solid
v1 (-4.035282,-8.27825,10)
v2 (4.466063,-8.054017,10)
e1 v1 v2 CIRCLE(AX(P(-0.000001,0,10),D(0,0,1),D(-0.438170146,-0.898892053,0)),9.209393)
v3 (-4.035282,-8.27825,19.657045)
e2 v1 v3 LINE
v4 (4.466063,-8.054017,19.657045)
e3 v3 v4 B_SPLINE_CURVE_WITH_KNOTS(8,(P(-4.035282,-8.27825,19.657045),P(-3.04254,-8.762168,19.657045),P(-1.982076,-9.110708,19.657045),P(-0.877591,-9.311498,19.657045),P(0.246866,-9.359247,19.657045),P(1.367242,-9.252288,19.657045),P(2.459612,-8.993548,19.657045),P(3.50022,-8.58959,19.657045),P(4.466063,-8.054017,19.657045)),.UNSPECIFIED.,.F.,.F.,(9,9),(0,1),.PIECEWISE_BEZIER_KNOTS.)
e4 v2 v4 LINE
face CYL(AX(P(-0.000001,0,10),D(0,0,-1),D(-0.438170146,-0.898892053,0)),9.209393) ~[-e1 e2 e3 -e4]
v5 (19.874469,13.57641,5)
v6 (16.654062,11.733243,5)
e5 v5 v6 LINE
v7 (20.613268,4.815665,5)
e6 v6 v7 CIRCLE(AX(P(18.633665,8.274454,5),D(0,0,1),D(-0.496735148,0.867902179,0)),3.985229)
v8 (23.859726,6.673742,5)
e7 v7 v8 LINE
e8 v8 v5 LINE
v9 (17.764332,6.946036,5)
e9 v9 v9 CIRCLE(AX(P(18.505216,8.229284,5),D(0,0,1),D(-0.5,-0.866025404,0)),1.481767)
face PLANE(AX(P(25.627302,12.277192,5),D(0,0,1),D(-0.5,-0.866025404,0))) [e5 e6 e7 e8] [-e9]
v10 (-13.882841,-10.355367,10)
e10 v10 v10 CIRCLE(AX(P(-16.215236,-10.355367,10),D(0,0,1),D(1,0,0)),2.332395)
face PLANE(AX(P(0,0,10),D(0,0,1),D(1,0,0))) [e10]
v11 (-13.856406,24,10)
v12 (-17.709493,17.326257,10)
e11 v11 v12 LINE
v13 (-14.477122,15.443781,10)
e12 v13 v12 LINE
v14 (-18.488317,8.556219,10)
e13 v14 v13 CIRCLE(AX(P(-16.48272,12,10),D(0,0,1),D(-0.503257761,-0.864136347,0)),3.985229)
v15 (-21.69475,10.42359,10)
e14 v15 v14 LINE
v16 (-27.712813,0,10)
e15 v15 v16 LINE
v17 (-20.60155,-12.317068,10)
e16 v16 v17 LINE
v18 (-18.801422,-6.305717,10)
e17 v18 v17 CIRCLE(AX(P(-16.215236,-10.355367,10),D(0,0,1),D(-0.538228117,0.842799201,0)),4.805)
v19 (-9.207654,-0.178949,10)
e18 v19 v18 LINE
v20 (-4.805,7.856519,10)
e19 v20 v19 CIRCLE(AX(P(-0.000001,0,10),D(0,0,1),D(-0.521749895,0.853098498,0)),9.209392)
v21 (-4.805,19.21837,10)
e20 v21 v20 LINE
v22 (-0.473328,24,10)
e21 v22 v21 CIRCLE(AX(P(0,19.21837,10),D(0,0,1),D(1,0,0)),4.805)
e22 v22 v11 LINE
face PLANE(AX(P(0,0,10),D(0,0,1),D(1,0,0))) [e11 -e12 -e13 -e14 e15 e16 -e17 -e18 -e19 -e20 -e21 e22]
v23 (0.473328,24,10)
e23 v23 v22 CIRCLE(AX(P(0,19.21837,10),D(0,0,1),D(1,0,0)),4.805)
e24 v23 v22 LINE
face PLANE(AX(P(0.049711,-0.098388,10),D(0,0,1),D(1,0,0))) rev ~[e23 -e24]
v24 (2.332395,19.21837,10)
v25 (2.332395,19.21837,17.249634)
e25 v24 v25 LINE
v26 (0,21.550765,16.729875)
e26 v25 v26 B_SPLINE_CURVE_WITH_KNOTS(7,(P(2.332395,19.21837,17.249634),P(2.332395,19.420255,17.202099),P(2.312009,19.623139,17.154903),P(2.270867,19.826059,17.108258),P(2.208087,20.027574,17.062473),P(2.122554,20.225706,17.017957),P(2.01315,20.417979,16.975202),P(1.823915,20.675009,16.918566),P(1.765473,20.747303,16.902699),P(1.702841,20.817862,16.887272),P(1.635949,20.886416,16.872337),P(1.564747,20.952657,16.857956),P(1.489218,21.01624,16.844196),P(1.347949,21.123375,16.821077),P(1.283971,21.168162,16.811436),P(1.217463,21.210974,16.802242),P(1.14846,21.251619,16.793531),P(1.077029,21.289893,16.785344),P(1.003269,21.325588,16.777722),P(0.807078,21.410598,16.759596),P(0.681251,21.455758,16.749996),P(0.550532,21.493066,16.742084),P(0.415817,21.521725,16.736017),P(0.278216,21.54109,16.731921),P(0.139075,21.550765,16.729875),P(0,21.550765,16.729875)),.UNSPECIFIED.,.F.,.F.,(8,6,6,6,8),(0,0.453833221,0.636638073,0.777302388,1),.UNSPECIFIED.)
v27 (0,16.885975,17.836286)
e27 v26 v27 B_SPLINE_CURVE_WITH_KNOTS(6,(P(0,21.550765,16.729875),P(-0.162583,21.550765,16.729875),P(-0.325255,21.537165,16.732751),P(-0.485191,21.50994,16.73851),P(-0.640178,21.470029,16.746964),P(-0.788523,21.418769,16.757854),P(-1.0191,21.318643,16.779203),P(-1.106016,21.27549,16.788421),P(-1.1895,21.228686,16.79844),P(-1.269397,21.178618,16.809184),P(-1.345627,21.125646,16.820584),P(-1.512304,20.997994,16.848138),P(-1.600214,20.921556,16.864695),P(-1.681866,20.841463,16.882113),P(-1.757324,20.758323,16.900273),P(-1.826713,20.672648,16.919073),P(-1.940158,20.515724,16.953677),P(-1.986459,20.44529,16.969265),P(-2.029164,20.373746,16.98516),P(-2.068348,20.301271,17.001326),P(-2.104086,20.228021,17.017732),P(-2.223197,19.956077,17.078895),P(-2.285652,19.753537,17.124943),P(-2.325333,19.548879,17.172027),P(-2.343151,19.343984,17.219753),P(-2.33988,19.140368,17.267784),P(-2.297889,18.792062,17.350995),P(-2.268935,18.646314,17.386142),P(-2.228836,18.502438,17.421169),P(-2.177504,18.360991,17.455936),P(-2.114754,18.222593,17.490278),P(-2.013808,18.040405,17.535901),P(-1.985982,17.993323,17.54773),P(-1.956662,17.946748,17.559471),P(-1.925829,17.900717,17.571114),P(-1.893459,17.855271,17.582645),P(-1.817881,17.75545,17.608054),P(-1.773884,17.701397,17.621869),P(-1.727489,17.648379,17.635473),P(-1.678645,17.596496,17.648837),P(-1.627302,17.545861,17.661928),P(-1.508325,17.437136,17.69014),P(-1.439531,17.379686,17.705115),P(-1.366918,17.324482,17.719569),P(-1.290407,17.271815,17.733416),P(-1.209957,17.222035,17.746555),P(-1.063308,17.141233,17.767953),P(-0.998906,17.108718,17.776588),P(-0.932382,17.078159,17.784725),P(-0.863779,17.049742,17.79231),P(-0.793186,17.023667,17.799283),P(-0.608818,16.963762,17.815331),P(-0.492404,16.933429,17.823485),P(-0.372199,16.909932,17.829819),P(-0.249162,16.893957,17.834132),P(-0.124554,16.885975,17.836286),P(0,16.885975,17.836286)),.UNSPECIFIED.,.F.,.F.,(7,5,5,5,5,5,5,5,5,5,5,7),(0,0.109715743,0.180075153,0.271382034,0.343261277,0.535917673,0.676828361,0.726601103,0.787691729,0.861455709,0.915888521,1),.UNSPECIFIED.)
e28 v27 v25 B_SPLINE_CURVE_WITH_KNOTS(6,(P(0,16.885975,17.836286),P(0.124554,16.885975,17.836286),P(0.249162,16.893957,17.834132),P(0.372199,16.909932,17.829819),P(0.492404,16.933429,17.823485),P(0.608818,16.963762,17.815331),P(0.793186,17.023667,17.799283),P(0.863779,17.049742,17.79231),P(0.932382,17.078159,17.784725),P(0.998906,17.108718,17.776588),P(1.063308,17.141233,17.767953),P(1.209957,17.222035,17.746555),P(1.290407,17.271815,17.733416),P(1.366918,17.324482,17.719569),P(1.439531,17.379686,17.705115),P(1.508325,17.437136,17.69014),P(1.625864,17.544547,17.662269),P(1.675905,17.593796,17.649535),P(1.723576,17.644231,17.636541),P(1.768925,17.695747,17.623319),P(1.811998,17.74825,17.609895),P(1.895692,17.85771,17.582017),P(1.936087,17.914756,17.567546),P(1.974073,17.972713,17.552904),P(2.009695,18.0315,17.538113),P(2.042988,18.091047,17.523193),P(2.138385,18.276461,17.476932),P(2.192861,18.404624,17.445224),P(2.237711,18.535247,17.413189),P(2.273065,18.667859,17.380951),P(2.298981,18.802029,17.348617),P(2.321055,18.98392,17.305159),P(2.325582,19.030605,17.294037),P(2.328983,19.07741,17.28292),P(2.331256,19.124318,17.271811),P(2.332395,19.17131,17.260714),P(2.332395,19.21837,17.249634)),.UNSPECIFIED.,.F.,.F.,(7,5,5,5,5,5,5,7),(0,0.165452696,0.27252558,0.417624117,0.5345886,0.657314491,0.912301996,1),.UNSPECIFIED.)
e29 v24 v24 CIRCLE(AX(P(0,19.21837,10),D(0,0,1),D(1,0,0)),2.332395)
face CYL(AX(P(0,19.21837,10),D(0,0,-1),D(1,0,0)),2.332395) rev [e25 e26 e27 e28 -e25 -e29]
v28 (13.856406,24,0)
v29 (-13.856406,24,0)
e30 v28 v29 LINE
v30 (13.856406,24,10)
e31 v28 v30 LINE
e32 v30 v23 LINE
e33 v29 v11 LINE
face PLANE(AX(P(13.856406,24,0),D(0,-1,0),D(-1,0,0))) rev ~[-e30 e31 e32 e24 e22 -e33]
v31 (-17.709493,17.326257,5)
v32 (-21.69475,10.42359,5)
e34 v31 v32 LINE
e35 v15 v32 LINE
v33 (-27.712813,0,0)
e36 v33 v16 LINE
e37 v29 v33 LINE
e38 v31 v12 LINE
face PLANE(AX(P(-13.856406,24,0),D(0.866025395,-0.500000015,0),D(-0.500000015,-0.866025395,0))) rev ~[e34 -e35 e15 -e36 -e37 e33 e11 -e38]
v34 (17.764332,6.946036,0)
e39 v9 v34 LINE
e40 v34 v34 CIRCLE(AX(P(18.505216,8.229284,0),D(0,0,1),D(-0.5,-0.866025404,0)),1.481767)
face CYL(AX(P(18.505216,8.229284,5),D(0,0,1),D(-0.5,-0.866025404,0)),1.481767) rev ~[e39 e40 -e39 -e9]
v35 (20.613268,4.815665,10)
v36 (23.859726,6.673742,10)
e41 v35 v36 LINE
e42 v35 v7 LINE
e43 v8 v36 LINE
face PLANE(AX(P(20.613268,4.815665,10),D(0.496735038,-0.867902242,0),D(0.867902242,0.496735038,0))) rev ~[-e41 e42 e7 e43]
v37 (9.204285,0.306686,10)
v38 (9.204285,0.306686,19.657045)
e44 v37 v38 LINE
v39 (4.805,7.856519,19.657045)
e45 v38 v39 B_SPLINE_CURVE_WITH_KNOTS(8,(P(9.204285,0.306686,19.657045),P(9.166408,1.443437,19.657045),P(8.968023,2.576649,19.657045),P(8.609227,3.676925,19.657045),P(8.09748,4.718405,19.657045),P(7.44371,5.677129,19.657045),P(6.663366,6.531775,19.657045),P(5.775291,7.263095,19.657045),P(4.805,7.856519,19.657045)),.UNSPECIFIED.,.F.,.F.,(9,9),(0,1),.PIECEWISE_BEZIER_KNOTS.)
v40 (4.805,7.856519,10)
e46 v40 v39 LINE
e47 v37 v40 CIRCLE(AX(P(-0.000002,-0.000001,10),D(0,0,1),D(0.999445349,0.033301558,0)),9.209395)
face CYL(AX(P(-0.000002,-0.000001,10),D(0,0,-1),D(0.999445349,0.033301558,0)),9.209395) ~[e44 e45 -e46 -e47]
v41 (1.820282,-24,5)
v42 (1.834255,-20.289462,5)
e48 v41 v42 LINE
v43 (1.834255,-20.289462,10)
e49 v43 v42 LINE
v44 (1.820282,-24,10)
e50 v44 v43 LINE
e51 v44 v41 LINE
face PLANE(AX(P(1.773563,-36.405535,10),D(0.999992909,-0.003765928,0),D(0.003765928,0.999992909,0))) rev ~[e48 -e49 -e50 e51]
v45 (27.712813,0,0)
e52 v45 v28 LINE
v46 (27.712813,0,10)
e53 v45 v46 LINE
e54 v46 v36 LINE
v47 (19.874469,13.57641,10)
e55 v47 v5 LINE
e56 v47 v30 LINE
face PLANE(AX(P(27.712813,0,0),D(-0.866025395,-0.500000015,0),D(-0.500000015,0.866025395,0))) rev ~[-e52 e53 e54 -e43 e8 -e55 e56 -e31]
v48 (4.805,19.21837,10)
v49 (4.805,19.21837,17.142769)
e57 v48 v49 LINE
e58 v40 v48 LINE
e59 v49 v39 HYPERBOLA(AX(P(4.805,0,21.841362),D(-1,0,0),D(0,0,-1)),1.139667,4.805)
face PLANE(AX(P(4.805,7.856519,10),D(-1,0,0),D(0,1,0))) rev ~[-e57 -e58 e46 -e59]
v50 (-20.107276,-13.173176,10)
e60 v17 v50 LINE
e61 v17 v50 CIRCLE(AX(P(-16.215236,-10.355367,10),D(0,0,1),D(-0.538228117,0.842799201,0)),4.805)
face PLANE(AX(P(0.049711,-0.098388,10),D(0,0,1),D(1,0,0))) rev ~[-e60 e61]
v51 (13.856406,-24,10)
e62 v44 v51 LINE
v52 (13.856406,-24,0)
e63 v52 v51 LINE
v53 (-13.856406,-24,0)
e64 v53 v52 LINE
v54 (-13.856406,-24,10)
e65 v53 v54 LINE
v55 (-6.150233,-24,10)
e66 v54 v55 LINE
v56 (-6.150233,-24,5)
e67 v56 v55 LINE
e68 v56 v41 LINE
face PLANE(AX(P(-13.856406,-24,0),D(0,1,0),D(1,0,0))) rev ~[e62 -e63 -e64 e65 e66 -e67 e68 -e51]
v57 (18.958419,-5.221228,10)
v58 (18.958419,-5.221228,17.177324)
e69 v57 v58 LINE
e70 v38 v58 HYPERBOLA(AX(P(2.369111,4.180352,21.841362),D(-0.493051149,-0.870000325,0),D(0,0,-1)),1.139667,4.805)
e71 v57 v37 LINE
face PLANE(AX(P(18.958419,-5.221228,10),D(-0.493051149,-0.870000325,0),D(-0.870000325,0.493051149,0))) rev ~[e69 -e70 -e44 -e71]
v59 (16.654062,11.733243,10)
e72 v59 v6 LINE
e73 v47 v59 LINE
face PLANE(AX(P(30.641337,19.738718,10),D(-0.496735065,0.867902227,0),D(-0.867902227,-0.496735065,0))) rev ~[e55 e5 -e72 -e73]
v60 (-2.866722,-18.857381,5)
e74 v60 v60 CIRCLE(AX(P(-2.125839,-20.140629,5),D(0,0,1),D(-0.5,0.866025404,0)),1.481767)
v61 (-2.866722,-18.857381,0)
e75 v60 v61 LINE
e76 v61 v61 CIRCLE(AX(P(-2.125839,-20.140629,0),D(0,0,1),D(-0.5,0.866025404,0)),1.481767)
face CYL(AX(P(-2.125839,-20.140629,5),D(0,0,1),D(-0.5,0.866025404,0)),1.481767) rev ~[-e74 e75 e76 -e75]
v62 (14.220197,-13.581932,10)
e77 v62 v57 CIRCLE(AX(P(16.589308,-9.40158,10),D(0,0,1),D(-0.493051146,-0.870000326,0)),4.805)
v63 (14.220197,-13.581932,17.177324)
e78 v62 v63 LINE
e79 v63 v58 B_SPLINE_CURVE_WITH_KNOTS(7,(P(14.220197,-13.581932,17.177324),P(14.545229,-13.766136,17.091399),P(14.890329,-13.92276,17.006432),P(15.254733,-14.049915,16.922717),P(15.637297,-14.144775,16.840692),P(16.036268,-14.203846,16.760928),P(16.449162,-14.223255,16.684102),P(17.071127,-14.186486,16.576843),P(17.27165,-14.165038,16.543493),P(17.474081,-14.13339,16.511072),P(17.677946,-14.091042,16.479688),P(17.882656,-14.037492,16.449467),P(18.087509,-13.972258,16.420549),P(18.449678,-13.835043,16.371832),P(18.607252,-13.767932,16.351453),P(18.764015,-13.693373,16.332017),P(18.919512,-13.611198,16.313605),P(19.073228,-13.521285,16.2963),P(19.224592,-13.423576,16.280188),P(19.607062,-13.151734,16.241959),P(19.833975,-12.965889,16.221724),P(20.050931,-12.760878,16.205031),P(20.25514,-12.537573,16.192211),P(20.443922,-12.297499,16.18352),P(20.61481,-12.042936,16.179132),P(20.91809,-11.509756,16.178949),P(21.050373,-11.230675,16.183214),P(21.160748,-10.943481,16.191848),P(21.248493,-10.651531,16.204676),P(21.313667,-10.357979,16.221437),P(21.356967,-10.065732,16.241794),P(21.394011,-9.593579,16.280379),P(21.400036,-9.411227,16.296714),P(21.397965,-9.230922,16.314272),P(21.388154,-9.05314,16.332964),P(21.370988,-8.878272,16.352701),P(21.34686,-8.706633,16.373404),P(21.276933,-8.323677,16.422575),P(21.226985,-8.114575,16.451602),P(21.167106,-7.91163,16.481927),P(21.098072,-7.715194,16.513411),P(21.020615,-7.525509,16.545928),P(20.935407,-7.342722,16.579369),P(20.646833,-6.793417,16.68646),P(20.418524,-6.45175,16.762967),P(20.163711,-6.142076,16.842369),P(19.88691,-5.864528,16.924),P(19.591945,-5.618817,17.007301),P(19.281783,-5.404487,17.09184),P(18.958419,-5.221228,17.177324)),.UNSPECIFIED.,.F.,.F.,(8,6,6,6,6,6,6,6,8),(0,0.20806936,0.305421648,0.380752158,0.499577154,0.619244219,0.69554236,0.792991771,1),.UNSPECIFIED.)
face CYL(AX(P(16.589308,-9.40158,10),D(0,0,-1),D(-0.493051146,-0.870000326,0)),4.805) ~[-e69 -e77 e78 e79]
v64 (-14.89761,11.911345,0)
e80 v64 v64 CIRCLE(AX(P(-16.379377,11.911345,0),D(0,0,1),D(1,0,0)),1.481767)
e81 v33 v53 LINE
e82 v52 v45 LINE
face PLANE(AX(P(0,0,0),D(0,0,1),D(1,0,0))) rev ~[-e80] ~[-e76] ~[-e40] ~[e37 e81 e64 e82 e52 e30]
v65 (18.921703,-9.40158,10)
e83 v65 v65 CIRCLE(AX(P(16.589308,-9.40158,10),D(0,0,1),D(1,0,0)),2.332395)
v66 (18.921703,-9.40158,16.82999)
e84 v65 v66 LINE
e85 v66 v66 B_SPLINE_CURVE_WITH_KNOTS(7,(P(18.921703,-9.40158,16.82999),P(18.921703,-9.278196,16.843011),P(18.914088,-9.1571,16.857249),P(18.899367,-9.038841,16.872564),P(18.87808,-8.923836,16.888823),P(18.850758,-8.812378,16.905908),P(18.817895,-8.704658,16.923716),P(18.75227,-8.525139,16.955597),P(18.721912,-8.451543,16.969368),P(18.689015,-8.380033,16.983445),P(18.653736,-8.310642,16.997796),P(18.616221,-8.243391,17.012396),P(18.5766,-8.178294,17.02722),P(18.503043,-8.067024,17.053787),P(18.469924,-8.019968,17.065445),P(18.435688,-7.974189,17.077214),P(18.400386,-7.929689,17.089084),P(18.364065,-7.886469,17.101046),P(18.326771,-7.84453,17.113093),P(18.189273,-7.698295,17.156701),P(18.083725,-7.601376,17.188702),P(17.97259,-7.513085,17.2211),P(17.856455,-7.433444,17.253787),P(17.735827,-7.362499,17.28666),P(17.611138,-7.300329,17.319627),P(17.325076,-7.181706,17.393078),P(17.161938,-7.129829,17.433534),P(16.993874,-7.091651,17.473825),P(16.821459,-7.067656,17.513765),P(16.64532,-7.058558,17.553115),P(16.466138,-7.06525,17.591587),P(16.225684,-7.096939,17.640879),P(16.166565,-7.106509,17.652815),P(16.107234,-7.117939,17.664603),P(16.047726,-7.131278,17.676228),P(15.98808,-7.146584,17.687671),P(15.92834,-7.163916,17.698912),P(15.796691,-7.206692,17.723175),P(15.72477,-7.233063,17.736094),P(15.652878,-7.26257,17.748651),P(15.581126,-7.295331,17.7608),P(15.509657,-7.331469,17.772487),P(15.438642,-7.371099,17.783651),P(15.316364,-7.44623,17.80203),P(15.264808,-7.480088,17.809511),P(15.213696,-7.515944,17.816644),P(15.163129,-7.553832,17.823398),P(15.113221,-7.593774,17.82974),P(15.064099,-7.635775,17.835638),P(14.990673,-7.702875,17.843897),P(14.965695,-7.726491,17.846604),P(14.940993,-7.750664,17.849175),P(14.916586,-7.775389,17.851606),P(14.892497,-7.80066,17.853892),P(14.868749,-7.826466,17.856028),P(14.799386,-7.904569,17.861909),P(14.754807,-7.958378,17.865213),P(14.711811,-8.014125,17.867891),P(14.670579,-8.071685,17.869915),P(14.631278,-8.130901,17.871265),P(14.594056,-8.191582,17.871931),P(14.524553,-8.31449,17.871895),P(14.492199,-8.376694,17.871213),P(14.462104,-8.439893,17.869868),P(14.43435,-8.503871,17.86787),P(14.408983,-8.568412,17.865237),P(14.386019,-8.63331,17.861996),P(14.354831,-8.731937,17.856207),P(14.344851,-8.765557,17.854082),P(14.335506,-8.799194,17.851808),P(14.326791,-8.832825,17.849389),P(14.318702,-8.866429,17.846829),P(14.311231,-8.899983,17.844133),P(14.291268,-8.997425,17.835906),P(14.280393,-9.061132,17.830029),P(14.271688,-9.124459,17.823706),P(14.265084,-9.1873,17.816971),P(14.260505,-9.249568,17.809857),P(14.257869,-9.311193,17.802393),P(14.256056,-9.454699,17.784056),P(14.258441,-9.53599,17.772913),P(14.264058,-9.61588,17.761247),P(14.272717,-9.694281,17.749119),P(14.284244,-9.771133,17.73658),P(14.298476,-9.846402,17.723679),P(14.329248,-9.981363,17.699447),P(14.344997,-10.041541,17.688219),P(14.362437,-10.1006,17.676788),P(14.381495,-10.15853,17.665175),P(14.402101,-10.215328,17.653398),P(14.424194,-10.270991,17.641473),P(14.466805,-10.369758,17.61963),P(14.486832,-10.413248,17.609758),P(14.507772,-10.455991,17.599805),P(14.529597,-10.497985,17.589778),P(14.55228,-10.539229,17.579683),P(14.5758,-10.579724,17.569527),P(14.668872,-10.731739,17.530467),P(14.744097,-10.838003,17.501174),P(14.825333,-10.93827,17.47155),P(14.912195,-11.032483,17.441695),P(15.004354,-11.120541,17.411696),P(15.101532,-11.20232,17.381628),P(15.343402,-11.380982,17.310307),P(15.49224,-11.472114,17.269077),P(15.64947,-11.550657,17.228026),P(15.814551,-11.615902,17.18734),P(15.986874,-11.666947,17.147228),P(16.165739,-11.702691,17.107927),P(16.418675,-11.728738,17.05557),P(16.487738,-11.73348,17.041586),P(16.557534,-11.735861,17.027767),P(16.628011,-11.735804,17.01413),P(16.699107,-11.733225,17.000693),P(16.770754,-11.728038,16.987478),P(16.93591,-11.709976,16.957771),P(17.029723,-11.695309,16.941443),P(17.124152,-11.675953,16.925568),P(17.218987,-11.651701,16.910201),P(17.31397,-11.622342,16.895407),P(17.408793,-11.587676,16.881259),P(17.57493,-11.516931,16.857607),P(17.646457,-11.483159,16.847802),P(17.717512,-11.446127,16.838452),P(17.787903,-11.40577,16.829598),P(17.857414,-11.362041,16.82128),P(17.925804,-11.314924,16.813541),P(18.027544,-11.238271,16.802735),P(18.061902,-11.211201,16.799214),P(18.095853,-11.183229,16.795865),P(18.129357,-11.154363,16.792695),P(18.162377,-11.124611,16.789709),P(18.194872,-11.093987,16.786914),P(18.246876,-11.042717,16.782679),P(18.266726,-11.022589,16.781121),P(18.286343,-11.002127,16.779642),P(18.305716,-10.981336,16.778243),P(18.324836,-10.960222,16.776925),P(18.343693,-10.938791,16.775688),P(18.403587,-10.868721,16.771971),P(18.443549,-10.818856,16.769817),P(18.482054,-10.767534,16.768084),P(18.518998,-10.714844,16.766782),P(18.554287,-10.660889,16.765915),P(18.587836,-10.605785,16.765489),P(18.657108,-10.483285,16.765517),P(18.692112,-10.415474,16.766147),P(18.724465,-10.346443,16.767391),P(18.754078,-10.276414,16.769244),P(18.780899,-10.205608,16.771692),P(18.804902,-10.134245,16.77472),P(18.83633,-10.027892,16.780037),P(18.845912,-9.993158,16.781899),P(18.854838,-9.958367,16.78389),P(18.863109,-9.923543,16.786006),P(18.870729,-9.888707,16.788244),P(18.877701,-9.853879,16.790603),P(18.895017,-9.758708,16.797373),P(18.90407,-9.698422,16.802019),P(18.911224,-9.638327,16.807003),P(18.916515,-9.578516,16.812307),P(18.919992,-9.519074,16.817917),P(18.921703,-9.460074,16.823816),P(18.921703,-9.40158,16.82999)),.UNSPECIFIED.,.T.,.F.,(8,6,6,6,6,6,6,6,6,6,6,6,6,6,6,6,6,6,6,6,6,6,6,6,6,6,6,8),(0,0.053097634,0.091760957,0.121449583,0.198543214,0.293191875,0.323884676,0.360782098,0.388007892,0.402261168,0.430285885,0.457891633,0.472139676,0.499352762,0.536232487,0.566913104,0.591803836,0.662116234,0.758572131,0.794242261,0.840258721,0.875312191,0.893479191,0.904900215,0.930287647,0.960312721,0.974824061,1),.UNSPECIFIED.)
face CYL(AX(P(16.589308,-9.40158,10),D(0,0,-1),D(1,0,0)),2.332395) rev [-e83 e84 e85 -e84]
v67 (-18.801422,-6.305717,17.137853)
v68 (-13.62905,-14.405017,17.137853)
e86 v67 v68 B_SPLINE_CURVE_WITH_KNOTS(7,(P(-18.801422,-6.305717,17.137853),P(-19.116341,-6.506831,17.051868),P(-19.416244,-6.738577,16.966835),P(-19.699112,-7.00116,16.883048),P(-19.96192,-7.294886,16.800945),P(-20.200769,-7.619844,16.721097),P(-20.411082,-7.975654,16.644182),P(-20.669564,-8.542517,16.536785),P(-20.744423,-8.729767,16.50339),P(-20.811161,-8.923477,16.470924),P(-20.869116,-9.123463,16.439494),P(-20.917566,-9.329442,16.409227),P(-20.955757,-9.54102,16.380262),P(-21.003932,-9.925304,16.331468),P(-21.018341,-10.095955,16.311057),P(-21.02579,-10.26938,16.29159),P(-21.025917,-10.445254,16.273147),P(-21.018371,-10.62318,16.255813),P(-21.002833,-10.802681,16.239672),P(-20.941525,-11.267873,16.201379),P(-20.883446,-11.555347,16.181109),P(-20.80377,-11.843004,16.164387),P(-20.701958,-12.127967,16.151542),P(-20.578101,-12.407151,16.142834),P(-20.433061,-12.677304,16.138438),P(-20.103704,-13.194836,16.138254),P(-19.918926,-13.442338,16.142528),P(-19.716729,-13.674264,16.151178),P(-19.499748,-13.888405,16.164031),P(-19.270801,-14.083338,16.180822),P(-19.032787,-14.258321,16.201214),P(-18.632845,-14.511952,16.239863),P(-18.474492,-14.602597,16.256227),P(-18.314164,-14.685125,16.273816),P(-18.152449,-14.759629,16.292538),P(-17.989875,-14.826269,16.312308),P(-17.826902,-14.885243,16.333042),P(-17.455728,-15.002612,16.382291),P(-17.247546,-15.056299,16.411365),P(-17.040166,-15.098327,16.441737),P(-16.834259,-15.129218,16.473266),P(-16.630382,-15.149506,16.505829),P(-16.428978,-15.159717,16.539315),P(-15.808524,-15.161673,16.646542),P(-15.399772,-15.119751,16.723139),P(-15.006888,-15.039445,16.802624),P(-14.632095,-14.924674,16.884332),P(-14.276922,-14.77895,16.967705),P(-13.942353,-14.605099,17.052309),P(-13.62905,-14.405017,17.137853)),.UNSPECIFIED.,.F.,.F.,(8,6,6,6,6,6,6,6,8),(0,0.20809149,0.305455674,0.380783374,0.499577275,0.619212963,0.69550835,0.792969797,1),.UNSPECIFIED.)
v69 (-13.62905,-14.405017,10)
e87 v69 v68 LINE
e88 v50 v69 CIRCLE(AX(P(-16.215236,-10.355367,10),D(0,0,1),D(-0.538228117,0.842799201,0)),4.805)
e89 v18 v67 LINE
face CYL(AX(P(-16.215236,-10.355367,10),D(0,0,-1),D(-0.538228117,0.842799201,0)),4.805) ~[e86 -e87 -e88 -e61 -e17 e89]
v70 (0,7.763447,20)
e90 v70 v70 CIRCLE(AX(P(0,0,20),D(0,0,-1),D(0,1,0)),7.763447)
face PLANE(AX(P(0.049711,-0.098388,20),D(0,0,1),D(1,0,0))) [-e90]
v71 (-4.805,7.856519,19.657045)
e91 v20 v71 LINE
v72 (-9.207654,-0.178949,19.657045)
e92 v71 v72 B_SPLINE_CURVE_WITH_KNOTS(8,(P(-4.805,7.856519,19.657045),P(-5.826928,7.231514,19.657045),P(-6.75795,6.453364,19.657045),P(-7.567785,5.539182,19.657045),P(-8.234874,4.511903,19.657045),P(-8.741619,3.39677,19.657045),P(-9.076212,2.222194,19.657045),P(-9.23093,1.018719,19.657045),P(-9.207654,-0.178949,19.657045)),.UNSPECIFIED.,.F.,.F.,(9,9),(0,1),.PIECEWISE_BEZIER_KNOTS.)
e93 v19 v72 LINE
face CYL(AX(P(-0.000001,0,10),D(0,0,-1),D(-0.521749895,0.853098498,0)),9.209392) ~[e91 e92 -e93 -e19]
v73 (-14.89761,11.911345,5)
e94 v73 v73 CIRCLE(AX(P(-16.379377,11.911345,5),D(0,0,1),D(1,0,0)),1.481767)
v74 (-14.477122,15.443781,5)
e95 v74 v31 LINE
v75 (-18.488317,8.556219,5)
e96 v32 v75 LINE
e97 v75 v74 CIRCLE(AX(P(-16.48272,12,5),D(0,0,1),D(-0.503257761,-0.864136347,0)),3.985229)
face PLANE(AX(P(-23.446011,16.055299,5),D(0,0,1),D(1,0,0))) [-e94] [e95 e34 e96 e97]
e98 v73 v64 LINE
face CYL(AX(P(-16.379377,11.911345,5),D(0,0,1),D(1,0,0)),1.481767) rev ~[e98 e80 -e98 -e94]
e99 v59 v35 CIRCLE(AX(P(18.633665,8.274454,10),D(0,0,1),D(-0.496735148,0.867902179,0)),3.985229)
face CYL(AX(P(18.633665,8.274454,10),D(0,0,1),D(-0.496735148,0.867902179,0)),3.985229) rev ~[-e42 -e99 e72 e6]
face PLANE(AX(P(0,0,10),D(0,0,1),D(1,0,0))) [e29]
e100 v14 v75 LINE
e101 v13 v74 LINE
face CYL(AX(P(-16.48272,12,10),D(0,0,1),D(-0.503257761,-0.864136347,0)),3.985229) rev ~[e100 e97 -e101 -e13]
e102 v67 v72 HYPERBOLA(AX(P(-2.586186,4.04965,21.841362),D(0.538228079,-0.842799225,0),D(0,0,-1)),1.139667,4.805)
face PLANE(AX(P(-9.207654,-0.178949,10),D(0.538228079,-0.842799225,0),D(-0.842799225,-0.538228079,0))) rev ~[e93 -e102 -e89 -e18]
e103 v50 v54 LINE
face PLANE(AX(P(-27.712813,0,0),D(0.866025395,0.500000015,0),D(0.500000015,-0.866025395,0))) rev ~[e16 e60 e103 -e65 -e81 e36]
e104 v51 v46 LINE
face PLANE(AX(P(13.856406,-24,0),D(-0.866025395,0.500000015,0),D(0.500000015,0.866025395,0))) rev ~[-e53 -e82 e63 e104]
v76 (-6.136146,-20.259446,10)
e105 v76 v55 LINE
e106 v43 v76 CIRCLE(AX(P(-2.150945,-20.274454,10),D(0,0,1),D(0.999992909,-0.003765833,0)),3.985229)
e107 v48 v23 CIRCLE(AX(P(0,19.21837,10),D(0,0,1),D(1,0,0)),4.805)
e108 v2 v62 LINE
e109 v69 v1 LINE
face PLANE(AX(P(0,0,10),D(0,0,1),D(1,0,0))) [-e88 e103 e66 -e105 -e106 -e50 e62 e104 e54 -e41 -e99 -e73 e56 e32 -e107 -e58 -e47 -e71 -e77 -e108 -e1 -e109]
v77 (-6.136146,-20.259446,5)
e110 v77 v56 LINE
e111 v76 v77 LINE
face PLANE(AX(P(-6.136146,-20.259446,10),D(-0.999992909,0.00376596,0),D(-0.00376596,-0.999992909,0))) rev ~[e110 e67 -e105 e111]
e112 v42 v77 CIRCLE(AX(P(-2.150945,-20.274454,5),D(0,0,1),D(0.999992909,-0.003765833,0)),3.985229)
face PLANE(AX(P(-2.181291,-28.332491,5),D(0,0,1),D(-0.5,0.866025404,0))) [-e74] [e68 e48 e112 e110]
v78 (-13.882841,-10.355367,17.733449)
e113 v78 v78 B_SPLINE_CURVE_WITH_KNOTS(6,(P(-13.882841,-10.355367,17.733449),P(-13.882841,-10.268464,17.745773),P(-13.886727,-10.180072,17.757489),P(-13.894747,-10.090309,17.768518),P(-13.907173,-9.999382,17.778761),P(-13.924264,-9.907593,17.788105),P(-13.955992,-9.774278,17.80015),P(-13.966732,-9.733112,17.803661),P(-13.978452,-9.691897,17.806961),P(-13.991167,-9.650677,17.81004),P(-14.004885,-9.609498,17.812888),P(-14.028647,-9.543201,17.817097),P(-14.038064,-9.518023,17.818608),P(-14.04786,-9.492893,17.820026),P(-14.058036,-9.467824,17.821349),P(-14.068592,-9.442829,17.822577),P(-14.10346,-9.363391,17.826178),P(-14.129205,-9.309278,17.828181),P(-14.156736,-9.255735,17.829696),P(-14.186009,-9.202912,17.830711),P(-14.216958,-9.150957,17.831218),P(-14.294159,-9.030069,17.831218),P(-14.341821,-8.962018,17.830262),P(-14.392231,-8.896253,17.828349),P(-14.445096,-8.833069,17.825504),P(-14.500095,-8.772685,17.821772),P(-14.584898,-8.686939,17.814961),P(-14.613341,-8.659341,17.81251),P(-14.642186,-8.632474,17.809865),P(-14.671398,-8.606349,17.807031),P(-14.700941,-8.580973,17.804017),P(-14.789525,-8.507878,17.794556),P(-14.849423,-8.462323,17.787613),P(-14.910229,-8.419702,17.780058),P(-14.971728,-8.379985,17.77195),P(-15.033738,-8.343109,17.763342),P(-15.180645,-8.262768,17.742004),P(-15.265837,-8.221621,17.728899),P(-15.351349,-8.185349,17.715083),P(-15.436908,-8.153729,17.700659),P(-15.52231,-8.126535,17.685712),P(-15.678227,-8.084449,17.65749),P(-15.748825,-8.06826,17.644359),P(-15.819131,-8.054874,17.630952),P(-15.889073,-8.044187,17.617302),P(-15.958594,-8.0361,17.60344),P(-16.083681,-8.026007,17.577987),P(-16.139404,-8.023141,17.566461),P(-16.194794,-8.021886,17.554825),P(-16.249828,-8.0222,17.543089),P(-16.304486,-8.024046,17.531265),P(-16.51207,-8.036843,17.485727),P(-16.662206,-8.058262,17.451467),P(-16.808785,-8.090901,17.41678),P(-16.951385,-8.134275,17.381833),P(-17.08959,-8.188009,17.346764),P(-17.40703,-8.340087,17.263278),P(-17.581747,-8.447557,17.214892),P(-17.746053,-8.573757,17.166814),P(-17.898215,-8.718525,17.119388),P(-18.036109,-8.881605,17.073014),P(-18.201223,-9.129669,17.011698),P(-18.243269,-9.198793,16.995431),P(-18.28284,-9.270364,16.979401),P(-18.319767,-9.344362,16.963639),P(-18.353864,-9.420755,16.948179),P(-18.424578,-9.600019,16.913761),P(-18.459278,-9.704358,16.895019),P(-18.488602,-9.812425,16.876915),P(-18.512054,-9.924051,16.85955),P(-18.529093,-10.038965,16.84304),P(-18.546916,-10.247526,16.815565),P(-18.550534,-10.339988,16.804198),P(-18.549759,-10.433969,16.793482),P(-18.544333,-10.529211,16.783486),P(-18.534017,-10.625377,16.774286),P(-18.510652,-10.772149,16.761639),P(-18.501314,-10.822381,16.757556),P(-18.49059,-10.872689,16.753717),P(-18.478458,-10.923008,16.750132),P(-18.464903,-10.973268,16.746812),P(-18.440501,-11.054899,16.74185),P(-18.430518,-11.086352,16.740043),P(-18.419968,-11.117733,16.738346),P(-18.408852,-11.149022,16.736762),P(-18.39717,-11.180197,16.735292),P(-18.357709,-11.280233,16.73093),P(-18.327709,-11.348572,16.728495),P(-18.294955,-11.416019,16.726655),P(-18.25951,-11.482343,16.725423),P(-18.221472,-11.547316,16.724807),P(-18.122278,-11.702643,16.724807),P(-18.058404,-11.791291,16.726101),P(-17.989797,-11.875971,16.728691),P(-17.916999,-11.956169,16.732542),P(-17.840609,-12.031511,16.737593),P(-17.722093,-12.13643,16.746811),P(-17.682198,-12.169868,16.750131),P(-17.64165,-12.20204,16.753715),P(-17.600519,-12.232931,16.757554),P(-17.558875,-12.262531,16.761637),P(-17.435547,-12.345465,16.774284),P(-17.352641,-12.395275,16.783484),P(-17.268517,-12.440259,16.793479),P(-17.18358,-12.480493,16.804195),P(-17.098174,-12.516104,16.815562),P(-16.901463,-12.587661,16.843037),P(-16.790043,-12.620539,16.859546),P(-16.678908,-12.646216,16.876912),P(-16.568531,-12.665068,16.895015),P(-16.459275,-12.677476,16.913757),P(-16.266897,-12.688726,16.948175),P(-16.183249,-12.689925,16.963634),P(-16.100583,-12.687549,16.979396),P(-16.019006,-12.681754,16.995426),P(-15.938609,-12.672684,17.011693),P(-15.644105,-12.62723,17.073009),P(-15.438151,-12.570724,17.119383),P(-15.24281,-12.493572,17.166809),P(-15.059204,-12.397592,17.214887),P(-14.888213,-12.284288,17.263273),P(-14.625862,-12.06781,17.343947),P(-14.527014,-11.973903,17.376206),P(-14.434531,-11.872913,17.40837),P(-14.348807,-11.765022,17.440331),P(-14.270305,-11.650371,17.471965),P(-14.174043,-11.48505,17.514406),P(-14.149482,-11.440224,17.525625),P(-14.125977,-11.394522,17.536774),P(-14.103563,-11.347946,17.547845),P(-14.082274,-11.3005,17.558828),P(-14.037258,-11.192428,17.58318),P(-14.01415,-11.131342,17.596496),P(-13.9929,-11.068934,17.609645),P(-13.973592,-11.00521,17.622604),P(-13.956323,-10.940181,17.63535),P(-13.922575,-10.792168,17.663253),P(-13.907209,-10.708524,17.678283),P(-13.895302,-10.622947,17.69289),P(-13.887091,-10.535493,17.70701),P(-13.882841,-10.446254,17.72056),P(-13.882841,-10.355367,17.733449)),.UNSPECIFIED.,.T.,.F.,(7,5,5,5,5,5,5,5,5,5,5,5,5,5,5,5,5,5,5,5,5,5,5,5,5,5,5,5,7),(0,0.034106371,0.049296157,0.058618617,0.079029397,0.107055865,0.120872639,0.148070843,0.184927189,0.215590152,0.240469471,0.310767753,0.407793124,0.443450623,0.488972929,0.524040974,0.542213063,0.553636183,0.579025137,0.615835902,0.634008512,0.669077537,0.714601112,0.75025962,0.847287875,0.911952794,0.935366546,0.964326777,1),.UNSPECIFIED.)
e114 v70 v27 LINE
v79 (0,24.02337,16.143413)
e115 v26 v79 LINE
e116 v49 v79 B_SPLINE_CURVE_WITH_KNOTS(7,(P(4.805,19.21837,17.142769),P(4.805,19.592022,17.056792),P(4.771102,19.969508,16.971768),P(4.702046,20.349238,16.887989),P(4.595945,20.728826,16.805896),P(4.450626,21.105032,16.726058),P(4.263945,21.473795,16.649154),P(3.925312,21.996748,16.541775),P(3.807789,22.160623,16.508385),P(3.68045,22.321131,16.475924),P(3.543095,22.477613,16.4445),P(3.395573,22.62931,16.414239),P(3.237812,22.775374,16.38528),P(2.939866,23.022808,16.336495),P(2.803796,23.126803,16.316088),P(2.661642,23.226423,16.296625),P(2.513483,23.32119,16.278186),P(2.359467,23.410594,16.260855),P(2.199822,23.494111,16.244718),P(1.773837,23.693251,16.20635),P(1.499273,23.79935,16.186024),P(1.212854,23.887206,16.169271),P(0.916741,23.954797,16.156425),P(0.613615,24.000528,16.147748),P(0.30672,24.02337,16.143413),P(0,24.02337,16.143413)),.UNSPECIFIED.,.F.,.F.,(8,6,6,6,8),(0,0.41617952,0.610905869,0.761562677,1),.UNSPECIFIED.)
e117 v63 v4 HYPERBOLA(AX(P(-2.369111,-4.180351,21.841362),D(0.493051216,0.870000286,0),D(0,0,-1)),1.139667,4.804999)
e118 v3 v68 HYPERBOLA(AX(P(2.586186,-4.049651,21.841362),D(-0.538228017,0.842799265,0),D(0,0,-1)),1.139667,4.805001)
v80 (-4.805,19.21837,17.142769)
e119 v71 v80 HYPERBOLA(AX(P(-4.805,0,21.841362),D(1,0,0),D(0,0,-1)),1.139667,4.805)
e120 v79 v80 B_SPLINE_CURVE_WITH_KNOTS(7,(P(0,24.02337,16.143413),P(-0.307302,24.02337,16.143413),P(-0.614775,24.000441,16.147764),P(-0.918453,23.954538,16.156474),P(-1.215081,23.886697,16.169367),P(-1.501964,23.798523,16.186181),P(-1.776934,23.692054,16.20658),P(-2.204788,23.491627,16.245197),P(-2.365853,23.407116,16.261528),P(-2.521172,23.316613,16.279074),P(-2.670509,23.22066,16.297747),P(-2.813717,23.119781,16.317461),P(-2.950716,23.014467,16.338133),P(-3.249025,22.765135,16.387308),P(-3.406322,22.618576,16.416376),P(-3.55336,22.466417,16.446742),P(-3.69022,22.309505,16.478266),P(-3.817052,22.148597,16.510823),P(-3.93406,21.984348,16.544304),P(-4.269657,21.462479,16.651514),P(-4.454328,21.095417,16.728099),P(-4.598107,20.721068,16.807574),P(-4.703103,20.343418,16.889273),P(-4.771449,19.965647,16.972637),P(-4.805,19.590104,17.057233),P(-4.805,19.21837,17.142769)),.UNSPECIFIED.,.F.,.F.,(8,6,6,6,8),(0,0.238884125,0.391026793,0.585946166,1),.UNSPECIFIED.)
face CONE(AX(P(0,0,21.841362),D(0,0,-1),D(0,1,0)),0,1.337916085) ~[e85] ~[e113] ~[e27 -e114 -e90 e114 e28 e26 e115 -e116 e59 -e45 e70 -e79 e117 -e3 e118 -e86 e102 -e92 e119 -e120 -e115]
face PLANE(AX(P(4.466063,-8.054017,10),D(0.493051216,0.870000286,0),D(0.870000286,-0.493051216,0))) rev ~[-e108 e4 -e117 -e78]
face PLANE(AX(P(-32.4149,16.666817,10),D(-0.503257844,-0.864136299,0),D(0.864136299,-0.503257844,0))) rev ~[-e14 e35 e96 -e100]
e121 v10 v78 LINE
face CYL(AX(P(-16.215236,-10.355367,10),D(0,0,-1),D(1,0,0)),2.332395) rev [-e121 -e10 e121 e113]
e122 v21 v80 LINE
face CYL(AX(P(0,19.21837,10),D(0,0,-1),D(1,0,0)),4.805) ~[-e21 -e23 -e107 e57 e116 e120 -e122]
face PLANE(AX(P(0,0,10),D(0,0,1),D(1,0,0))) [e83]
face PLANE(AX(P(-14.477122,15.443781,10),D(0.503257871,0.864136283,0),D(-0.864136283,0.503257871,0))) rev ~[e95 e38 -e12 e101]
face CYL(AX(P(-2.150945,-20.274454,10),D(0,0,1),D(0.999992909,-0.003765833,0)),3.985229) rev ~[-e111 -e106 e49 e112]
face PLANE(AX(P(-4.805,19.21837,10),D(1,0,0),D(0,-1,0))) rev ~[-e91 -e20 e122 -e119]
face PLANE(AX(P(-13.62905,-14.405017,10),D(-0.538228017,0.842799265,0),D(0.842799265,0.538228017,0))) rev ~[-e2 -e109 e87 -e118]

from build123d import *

# Parameters (mm, degrees)
PAD_DEPTH          = 10
POCKET_DEPTH       = 5
SKETCH002_R        = 1.481767
POCKET001_DEPTH    = 5
POLARPATTERN_COUNT = 3
SKETCH003_R        = 2.332395
PAD001_DEPTH       = 10


with BuildPart() as part:
    # Sketch → Pad (new body)
    with BuildSketch(Plane.XY):
        Polygon((13.856406, -24), (27.712813, 0), (13.856406, 24), (-13.856406, 24), (-27.712813, 0), (-13.856406, -24), align=None)
    extrude(amount=PAD_DEPTH)

    # Sketch001 (on Face8 of Pad) → Pocket (cut)
    with BuildSketch(Plane.XY.offset(10)):
        with BuildLine():
            ThreePointArc((-18.488317, 8.556219), (-13.038939, 9.994402), (-14.477122, 15.443781))
            Line((-14.477122, 15.443781), (-28.403704, 23.554379))
            ThreePointArc((-28.403704, 23.554379), (-33.853083, 22.116196), (-32.4149, 16.666817))
            Line((-32.4149, 16.666817), (-18.488317, 8.556219))
        make_face()
    pocket = extrude(amount=-POCKET_DEPTH, mode=Mode.SUBTRACT)

    # Sketch002 (on Face12 of Pocket) → Pocket001 (cut)
    with BuildSketch(Plane.XY.offset(5)):
        with Locations((-16.379377, 11.911345)):
            Circle(SKETCH002_R)
    pocket001 = extrude(amount=-POCKET001_DEPTH, mode=Mode.SUBTRACT)

    # PolarPattern: Pocket001, Pocket ×3 about axis
    polarpattern_axis = Axis((0, 0, 5), (0, 0, 1))
    for i in range(1, POLARPATTERN_COUNT):
        add(pocket001.rotate(polarpattern_axis, i * 360 / POLARPATTERN_COUNT), mode=Mode.SUBTRACT)
        add(pocket.rotate(polarpattern_axis, i * 360 / POLARPATTERN_COUNT), mode=Mode.SUBTRACT)

    # Sketch003 (on Face5 of PolarPattern) → Pad001 (join)
    with BuildSketch(Plane.XY.offset(10)):
        with BuildLine():
            ThreePointArc((-4.035282, -8.27825), (0.242823, -9.206191), (4.466063, -8.054017))
            Line((4.466063, -8.054017), (14.220197, -13.581932))
            ThreePointArc((14.220197, -13.581932), (20.76966, -11.770691), (18.958419, -5.221228))
            Line((18.958419, -5.221228), (9.204285, 0.306686))
            ThreePointArc((9.204285, 0.306686), (7.957073, 4.636583), (4.805, 7.856519))
            Line((4.805, 7.856519), (4.805, 19.21837))
            ThreePointArc((4.805, 19.21837), (0, 24.02337), (-4.805, 19.21837))
            Line((-4.805, 19.21837), (-4.805, 7.856519))
            ThreePointArc((-4.805, 7.856519), (-8.076559, 4.425168), (-9.207654, -0.178949))
            Line((-9.207654, -0.178949), (-18.801422, -6.305717))
            ThreePointArc((-18.801422, -6.305717), (-20.264886, -12.941553), (-13.62905, -14.405017))
            Line((-13.62905, -14.405017), (-4.035282, -8.27825))
        make_face()
        with Locations((0, 19.21837)):
            Circle(SKETCH003_R, mode=Mode.SUBTRACT)
        with Locations((-16.215236, -10.355367)):
            Circle(SKETCH003_R, mode=Mode.SUBTRACT)
        with Locations((16.589308, -9.40158)):
            Circle(SKETCH003_R, mode=Mode.SUBTRACT)
    extrude(amount=PAD001_DEPTH)

    # Sketch005 → Groove (revolve, cut)
    with BuildSketch(Plane.YZ):
        Polygon((0, 21.841362), (31.185255, 14.444732), (30.454723, 21.841362), align=None)
    revolve(axis=Axis((0, 0, 0), (0, 0, 1)), mode=Mode.SUBTRACT)


solid = part.part
